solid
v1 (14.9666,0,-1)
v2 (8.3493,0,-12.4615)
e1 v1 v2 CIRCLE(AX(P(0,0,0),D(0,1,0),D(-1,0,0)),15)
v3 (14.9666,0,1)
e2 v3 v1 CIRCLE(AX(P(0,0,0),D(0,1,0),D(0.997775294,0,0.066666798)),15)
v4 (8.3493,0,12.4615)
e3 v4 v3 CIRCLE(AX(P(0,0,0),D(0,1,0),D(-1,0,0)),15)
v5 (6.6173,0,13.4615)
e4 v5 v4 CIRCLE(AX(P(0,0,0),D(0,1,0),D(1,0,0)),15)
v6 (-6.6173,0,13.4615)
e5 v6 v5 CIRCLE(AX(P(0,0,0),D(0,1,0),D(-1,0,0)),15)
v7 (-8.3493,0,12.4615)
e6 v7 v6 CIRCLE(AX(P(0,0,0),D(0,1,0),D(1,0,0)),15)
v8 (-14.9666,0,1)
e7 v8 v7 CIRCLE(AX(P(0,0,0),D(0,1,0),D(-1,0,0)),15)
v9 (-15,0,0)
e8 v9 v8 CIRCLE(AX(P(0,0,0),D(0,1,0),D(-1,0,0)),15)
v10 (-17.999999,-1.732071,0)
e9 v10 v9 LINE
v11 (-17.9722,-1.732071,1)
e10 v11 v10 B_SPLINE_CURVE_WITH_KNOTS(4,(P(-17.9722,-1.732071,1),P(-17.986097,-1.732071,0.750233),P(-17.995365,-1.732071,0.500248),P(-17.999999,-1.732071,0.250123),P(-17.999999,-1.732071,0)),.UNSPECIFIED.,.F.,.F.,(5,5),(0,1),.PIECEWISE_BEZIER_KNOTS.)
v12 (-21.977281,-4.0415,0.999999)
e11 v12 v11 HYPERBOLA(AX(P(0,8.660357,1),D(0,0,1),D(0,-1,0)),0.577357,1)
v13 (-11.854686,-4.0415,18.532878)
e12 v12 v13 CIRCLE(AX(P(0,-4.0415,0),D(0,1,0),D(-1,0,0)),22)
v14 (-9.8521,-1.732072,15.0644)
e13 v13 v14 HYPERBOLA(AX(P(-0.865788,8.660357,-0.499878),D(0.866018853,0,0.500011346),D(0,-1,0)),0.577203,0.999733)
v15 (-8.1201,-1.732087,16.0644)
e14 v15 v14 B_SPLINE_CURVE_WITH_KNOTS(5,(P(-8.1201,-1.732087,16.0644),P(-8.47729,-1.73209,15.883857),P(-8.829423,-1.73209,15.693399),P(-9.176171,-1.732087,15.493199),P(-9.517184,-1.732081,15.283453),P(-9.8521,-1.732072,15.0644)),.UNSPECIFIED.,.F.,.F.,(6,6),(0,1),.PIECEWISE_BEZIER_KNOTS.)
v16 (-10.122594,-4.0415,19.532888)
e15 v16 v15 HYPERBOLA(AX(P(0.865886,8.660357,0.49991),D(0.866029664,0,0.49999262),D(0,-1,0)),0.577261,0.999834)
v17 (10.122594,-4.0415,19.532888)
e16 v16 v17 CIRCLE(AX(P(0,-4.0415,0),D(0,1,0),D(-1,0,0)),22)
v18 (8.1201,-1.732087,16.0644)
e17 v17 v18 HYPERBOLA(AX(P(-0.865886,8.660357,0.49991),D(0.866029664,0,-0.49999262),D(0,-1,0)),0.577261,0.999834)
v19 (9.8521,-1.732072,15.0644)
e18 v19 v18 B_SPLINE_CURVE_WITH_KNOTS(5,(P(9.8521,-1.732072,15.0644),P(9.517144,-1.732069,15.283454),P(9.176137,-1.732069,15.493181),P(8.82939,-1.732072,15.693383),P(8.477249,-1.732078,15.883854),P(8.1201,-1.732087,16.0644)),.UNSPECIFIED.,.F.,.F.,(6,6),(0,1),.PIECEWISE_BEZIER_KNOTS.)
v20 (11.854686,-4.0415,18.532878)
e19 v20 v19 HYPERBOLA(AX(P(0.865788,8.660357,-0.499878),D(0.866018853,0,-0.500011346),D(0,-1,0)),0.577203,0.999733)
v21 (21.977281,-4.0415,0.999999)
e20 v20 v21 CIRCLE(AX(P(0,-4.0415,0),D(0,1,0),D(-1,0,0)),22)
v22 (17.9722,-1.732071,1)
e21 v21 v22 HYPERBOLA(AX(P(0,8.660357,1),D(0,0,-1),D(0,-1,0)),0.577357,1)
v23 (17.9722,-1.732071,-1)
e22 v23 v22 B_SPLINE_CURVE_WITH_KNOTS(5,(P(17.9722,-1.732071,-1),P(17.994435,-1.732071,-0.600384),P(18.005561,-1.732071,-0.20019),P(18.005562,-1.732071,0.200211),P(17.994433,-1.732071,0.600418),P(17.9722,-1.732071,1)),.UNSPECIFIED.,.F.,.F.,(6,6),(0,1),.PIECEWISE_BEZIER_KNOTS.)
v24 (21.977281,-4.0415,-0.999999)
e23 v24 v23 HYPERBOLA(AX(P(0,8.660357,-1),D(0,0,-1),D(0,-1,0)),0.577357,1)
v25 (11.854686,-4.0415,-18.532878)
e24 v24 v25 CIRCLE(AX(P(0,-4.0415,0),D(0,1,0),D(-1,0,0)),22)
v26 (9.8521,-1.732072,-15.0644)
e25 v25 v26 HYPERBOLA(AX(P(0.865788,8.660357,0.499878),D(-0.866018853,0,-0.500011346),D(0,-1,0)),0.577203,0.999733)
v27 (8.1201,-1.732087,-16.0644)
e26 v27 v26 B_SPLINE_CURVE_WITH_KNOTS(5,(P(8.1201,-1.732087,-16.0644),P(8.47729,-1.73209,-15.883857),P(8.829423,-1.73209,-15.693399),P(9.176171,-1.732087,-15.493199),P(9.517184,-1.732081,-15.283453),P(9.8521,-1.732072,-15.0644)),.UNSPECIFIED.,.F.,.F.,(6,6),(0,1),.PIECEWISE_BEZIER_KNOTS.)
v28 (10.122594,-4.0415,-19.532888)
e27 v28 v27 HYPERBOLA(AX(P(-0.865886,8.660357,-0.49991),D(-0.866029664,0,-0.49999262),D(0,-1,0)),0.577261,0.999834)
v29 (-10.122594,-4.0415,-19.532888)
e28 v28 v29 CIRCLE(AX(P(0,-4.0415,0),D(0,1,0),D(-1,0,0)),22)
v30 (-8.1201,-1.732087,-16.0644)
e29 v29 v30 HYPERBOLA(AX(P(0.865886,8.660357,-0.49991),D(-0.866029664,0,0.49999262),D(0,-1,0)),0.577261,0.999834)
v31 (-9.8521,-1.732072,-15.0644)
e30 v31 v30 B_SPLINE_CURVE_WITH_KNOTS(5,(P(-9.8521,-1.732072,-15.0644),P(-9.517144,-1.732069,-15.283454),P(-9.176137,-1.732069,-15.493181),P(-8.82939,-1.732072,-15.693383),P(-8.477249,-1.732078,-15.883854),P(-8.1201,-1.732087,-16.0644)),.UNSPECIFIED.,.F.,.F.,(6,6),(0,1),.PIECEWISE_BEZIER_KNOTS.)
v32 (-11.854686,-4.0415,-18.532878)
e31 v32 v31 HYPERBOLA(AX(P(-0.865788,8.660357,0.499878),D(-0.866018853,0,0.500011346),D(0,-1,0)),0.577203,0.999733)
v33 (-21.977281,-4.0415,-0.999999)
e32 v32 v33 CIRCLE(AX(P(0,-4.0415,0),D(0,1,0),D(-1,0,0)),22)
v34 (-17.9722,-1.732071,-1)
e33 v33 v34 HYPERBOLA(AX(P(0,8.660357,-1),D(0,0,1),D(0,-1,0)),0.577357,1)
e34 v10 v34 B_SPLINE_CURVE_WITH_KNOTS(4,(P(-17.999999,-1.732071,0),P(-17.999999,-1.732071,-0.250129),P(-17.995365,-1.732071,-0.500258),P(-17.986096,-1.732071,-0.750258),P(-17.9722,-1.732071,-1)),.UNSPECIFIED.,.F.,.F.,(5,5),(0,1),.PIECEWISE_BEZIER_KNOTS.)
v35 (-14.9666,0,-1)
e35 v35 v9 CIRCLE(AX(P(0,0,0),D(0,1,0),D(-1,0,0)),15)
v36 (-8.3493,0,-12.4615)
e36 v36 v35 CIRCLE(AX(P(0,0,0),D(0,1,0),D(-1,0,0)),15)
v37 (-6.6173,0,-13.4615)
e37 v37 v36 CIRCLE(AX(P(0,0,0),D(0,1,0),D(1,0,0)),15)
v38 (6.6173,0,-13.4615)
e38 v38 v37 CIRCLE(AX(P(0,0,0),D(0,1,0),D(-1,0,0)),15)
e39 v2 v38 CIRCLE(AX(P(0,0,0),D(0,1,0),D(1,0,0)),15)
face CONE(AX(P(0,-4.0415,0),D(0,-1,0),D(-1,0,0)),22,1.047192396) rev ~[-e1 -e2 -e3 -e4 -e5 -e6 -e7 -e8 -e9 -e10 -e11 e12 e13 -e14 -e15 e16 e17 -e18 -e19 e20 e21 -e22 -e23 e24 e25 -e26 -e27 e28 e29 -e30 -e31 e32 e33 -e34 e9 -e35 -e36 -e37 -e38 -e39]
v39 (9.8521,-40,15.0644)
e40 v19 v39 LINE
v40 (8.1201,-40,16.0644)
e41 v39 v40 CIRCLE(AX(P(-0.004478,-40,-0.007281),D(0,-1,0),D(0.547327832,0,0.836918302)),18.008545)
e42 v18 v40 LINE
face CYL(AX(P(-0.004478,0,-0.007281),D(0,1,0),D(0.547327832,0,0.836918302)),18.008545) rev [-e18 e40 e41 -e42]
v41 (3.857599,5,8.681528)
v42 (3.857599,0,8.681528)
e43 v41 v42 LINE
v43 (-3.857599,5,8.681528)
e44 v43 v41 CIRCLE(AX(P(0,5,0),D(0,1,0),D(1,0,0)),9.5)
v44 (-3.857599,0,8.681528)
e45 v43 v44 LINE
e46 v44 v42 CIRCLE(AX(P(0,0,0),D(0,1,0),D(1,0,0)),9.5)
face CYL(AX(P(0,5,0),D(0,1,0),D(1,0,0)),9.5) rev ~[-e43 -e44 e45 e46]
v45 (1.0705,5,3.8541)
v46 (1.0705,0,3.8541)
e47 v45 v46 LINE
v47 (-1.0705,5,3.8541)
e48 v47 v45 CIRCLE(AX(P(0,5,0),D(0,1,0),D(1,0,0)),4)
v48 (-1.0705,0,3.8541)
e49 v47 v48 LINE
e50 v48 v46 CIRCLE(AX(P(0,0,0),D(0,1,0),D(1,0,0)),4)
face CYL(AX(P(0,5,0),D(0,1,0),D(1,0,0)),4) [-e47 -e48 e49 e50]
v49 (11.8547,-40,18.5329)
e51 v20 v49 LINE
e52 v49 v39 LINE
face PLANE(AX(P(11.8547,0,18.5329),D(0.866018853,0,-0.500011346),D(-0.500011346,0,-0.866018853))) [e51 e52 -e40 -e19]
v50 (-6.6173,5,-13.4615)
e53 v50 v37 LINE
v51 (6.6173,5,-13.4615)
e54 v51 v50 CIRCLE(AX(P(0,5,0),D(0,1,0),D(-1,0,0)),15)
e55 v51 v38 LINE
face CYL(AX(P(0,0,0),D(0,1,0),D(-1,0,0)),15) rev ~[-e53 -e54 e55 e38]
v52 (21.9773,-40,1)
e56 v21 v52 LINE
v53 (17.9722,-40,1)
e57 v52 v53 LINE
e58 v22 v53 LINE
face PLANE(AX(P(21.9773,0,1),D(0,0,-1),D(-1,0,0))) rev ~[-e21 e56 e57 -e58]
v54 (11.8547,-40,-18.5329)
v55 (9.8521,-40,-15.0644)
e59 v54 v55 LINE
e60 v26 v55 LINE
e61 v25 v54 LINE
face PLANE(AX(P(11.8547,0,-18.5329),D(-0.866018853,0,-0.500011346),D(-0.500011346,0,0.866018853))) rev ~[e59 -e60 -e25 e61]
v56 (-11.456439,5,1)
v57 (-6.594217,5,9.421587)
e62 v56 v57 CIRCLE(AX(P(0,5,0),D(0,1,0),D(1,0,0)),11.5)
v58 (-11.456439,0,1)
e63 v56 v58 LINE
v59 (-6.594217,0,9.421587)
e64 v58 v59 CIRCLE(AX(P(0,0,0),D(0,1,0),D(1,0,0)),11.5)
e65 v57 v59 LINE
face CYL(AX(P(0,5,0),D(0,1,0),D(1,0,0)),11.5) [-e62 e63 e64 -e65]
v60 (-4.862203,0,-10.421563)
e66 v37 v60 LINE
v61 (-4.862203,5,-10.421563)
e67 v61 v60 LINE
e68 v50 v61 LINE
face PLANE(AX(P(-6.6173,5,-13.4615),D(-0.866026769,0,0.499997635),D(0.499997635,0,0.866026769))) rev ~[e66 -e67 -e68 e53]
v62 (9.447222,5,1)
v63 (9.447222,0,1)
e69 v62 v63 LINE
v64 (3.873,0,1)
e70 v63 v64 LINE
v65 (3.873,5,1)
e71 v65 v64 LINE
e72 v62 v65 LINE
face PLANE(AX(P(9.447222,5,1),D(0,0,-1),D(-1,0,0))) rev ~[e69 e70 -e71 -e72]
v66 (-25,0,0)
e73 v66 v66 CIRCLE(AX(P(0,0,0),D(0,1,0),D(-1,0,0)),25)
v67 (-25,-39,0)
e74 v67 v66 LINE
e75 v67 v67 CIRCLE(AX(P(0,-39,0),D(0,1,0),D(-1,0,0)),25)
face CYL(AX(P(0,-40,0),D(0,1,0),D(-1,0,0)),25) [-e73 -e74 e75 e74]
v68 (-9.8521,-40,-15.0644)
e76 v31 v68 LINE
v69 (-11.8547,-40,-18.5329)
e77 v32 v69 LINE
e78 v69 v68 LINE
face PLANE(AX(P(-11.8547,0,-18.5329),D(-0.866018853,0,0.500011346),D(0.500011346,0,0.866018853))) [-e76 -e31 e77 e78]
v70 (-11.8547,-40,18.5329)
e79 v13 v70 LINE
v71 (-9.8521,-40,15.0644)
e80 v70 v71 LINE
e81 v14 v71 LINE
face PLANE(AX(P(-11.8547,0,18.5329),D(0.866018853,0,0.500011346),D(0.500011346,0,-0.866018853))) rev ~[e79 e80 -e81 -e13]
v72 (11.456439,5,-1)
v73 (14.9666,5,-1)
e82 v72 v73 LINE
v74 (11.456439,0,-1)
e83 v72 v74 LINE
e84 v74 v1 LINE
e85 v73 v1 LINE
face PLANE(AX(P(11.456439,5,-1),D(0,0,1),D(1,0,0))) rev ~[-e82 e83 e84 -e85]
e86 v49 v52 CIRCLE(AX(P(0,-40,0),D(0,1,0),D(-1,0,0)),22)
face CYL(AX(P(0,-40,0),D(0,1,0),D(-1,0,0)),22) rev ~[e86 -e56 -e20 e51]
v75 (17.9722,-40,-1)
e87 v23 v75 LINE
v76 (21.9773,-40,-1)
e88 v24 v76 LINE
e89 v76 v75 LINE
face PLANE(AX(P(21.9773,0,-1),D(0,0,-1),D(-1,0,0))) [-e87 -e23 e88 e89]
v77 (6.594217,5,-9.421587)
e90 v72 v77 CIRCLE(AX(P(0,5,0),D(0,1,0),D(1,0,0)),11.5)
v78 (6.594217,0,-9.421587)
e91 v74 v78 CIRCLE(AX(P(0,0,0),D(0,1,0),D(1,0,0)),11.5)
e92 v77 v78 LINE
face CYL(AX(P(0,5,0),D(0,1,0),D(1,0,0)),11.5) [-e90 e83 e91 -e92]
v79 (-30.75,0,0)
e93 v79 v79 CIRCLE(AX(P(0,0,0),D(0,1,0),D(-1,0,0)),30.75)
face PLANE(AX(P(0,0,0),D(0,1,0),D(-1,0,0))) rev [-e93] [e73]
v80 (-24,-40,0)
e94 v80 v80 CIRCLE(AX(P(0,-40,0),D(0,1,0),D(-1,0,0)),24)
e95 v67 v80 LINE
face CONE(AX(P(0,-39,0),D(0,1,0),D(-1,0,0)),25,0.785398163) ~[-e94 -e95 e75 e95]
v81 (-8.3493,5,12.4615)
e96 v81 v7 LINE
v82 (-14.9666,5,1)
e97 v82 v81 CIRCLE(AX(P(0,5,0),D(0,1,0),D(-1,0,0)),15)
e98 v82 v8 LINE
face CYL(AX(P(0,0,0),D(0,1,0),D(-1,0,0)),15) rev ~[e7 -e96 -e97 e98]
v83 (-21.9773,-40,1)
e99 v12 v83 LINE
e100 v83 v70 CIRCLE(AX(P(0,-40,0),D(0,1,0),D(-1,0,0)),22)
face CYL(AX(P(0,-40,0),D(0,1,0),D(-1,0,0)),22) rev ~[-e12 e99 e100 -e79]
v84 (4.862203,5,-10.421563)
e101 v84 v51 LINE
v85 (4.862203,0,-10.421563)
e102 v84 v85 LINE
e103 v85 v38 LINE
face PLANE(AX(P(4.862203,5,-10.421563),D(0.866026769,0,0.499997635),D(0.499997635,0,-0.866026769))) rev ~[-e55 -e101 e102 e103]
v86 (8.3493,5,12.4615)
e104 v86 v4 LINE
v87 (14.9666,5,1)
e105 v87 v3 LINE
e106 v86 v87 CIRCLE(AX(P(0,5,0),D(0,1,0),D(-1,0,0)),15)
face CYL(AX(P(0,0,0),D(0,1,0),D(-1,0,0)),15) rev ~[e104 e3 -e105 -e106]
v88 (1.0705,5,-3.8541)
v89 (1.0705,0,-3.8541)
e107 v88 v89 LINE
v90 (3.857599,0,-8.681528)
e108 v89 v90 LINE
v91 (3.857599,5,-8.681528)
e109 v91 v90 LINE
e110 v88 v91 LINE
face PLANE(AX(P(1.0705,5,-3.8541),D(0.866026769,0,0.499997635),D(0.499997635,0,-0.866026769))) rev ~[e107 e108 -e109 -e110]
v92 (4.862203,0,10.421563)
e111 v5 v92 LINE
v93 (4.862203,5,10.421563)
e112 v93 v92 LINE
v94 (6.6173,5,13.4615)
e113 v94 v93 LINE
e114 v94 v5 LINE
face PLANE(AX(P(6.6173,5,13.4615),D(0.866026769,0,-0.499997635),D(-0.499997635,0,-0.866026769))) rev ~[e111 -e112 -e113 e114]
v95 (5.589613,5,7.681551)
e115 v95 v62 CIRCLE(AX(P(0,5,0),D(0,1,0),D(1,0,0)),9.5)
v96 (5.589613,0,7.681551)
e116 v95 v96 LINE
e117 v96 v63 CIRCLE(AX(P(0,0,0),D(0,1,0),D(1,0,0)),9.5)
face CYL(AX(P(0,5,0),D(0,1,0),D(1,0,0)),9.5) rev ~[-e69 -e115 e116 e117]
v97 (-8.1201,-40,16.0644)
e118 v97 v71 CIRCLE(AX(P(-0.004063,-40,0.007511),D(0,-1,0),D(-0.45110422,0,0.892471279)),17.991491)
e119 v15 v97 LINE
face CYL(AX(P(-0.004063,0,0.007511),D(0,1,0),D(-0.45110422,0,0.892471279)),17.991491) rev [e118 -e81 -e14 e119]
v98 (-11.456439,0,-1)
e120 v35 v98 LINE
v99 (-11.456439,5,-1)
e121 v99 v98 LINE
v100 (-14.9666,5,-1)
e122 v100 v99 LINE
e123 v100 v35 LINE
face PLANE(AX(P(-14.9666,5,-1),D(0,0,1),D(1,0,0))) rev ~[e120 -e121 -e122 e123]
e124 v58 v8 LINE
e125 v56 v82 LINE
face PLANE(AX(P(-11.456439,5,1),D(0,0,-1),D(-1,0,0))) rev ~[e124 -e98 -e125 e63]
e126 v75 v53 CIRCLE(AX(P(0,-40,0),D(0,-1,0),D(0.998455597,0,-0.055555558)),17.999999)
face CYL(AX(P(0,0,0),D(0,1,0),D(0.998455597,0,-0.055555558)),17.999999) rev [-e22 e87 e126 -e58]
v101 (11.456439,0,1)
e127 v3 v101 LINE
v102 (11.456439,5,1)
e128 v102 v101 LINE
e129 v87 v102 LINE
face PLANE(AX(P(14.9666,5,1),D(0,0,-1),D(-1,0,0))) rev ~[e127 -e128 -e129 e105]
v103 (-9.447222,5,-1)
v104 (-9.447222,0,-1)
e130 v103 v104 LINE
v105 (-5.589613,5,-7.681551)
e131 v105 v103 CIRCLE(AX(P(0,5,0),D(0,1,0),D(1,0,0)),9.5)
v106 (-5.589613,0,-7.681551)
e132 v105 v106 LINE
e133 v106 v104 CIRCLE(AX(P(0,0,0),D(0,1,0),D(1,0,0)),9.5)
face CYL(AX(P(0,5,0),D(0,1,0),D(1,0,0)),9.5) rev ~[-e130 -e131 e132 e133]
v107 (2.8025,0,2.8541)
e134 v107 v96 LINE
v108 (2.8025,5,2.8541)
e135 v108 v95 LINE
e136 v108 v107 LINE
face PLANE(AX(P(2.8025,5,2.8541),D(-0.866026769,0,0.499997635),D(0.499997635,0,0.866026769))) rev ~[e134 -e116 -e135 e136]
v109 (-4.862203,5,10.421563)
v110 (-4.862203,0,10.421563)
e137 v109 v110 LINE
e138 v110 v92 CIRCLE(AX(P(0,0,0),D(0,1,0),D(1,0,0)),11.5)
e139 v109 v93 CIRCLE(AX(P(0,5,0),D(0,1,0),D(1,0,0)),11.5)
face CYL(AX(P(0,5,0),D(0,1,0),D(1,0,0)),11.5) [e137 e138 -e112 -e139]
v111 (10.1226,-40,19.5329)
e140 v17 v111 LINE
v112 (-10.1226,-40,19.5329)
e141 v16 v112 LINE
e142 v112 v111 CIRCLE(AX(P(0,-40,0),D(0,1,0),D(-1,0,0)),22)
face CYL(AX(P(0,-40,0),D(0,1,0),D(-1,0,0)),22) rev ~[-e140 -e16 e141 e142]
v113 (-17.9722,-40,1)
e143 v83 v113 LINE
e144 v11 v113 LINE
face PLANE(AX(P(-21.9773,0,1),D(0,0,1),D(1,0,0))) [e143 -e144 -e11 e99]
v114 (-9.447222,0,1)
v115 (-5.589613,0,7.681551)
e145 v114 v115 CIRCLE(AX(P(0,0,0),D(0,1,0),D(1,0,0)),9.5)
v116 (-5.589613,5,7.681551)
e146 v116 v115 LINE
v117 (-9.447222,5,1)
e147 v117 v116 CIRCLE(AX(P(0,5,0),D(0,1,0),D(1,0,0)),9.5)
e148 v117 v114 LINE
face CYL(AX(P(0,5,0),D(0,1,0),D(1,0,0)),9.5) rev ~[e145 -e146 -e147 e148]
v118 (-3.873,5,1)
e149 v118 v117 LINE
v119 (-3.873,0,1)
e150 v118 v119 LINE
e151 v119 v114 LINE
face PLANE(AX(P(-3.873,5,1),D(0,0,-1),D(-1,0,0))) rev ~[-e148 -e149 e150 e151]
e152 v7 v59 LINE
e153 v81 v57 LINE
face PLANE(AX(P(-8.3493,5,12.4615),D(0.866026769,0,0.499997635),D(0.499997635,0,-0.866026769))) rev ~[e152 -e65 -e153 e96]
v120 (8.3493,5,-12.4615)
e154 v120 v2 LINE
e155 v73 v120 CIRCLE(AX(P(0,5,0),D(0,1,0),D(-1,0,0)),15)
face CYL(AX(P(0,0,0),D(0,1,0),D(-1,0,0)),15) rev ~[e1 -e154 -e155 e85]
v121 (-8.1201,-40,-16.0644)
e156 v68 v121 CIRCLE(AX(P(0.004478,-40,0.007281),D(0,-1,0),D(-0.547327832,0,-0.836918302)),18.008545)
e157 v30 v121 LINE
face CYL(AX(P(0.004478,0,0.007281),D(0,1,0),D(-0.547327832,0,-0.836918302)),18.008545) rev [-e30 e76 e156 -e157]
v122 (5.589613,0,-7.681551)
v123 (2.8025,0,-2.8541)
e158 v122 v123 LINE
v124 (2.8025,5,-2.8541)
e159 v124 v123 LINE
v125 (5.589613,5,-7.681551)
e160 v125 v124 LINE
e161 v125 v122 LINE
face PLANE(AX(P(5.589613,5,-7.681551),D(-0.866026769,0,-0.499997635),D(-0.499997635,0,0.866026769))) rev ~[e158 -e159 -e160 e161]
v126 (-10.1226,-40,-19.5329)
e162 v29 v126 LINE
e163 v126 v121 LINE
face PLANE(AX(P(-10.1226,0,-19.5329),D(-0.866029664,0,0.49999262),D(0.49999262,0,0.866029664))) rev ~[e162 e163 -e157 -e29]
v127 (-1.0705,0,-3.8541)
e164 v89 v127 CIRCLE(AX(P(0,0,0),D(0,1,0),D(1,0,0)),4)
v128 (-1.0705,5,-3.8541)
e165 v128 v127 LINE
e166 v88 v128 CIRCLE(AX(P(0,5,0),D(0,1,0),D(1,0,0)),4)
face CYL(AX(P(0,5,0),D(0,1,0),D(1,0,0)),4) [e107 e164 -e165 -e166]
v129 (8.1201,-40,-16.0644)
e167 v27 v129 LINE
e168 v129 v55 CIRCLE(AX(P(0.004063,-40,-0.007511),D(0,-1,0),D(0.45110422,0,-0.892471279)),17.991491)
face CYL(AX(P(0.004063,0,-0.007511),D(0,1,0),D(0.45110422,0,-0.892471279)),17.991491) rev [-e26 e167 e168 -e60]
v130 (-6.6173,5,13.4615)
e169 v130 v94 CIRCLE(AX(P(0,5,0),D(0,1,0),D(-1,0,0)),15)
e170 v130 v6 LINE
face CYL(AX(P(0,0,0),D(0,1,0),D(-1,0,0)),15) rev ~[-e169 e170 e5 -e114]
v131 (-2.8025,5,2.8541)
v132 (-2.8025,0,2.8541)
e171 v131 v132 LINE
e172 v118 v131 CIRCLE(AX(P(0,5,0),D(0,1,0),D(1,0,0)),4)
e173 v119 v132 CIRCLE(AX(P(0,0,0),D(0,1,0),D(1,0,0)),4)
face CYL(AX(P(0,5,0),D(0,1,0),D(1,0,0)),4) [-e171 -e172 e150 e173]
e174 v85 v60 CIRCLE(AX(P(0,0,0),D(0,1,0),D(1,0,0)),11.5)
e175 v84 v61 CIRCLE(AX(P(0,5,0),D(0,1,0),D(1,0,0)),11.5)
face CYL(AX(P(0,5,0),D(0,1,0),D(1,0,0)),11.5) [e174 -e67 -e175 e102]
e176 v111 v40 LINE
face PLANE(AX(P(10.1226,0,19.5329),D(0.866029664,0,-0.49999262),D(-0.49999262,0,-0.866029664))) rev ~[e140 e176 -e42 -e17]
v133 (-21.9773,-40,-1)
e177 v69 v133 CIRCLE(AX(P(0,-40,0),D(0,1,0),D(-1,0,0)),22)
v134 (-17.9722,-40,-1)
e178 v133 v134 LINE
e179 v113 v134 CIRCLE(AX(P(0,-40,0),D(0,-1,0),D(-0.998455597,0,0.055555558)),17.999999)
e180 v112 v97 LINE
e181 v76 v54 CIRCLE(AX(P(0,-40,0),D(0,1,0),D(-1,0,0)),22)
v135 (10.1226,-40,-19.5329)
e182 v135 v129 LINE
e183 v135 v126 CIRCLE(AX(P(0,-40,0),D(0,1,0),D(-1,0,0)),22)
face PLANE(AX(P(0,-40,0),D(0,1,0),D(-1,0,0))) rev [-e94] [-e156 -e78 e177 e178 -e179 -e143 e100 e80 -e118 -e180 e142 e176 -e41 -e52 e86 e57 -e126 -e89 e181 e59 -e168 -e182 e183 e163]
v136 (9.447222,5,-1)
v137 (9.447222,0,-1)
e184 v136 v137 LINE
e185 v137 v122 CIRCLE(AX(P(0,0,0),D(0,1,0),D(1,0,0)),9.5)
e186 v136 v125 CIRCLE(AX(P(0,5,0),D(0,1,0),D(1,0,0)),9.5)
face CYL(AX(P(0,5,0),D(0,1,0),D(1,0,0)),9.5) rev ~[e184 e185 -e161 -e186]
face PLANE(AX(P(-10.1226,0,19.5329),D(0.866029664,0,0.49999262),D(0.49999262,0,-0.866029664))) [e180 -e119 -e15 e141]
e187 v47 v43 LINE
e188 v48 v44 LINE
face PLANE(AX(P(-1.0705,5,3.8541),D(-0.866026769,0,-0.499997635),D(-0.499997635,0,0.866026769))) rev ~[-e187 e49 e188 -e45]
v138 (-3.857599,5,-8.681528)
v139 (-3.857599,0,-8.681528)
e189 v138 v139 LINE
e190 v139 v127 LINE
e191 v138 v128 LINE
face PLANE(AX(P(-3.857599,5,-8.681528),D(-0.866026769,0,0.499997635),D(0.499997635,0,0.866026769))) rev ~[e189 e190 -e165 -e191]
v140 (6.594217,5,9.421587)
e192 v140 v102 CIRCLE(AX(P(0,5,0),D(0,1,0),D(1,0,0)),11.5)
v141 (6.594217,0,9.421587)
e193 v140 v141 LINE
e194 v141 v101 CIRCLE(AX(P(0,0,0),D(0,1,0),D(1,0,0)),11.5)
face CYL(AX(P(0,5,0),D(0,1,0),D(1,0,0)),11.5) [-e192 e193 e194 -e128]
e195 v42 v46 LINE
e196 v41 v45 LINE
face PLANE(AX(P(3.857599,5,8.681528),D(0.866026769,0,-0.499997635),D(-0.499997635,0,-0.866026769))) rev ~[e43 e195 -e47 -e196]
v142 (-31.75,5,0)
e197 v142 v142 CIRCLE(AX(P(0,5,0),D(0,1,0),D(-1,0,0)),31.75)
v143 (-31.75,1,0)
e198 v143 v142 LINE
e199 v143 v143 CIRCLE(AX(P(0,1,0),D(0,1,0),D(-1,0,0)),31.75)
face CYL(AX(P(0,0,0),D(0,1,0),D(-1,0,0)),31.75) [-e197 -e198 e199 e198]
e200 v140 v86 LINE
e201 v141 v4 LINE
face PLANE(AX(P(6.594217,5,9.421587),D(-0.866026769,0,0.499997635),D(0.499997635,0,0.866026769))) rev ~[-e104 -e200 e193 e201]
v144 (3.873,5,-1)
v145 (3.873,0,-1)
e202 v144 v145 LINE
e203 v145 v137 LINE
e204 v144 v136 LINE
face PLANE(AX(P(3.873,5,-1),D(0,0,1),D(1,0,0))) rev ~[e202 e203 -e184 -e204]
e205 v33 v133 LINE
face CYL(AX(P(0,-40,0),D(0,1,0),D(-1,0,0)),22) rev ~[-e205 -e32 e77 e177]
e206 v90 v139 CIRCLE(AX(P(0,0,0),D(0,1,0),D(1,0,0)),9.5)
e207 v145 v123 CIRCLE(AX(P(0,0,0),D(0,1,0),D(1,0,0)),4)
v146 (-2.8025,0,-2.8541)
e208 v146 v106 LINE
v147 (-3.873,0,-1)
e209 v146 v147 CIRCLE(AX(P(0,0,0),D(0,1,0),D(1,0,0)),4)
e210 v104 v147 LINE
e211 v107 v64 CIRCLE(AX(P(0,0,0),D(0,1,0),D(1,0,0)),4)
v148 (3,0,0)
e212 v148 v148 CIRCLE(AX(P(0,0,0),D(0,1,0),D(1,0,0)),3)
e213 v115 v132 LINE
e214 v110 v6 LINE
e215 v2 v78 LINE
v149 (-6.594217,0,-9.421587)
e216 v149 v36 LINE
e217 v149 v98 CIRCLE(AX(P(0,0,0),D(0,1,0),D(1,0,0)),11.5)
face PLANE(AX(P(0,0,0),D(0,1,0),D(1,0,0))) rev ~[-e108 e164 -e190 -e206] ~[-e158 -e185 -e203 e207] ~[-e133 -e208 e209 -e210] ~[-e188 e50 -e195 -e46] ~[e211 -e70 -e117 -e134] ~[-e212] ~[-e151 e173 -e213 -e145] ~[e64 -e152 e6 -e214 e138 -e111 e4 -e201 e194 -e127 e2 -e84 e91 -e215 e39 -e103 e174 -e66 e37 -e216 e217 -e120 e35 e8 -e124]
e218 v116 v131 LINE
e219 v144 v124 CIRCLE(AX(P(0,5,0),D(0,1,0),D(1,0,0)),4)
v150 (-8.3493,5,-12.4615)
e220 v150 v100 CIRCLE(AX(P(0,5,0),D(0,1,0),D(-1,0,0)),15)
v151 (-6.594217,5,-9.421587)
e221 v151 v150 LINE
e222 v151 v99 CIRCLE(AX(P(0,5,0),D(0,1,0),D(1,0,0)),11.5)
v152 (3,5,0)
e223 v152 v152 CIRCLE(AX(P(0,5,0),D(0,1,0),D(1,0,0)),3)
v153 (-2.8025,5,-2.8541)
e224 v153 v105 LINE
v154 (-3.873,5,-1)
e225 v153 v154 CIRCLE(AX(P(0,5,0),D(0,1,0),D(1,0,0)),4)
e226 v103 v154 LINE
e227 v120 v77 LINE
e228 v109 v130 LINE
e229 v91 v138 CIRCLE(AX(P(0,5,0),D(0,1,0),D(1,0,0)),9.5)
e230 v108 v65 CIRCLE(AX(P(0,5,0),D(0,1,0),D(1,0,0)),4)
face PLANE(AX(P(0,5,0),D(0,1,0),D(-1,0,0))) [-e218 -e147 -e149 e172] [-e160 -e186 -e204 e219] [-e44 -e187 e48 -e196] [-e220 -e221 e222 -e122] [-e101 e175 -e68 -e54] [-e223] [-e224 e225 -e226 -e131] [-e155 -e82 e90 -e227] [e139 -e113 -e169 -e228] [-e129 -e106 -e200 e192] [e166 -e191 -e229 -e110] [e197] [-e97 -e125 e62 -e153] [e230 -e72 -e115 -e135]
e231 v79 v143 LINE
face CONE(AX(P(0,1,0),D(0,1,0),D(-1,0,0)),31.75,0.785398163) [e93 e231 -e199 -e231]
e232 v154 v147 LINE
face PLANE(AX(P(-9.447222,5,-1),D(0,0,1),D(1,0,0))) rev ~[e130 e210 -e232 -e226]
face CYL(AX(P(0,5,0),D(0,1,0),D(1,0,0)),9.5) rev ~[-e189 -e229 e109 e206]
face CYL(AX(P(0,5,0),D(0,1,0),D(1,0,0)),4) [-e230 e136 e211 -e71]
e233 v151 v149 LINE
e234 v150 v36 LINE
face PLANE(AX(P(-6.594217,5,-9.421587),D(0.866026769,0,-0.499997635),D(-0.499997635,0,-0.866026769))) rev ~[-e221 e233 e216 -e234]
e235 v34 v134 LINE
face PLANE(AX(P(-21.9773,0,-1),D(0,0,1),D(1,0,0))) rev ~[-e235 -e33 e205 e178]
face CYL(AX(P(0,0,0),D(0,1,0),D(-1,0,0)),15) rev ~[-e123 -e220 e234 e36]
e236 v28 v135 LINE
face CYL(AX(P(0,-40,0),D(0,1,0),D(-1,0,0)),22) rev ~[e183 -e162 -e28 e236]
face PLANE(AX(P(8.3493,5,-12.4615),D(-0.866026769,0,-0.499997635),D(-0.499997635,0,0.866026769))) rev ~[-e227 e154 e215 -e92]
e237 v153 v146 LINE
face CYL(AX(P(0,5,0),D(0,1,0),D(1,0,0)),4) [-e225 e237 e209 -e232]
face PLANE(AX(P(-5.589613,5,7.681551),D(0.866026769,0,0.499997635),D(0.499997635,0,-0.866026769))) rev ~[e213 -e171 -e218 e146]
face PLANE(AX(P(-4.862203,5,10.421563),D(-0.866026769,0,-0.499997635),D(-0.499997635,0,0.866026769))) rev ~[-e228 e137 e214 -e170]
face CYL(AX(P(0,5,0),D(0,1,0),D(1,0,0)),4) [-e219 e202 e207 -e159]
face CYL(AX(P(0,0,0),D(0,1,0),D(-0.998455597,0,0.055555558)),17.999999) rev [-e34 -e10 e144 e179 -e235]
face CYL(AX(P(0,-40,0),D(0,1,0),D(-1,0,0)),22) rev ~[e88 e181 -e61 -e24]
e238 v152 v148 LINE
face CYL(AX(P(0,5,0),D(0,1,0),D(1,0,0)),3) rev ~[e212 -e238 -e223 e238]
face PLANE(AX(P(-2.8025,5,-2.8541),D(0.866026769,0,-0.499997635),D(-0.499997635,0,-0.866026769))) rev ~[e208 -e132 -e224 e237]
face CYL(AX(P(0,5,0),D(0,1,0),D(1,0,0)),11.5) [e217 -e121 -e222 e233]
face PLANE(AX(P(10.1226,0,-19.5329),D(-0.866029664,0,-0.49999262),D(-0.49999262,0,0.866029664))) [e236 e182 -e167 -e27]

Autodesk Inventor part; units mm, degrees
ref_plane "YZ Plane" through (0, 0, 0) normal (1, 0, 0) x (0, 1, 0)
ref_plane "XZ Plane" through (0, 0, 0) normal (0, 1, 0) x (-1, 0, 0)
ref_plane "XY Plane" through (0, 0, 0) normal (0, 0, 1) x (1, 0, 0)
sketch "Skizze1" plane through (0, 0, 0) normal (0, 0, 1) x (1, 0, 0)
  line L0 (-25, -40) -> (-25, 0)
  line L1 (-25, 0) -> (-31.75, 0)
  line L2 (-31.75, 0) -> (-31.75, 5)
  line L3 (-31.75, 5) -> (-15, 5)
  line L4 (-22, -40) -> (-22, -4.0415)
  line L5 (-22, -4.0415) -> (-15, 0)
  line L6 (-15, 0) -> (-15, 5)
  line L7 (-38.1, 0) -> (6.35, 0) construction
  line L8 (-22, -40) -> (-25, -40)
  line L9 (0, -49) -> (0, 14) projected
  point P0 (0, 0)
  dimension "d2" = 60
  dimension "d3" = 3
  dimension "d4" = 5
  dimension "d5" = 7
  dimension "d6" = 50
  dimension "d7" = 40
  dimension "d8" = 63.5
  dimension "d38" = 5
  dimension "d47" = 30
revolve "Umdrehung1" add sketch "Skizze1" angle 360 about axis through (0, -10, 0) along (0, 1, 0)
sketch "Skizze2" plane through (0, 5, 0) normal (0, 1, 0) x (1, 0, 0)
  circle A0 centre (0, 0) radius 15 projected
  circle A1 centre (0, 0) radius 31.75 projected
  line L0 (-44.45, 0) -> (44.45, 0) construction
  line L1 (0, 44.45) -> (0, -44.45) construction
  circle A2 centre (0, 0) radius 9.5
  circle A3 centre (0, 0) radius 11.5
  circle A4 centre (0, 0) radius 4
  circle A5 centre (0, 0) radius 3
  line L2 (-14.9666, 1) -> (-3.873, 1)
  line L3 (-3.873, -1) -> (-14.9666, -1)
  arc A6 (-3.873, 1) -> (-3.873, -1) centre (0, 0) ccw
  arc A7 (-14.9666, 1) -> (-14.9666, -1) centre (0, 0) ccw
  line L4 (-8.3493, -12.4615) -> (-2.8025, -2.8541)
  line L5 (-1.0705, -3.8541) -> (-6.6173, -13.4615)
  arc A8 (-8.3493, -12.4615) -> (-6.6173, -13.4615) centre (0, 0) ccw
  arc A9 (-2.8025, -2.8541) -> (-1.0705, -3.8541) centre (0, 0) ccw
  line L6 (6.6173, -13.4615) -> (1.0705, -3.8541)
  line L7 (2.8025, -2.8541) -> (8.3493, -12.4615)
  arc A10 (6.6173, -13.4615) -> (8.3493, -12.4615) centre (0, 0) ccw
  arc A11 (1.0705, -3.8541) -> (2.8025, -2.8541) centre (0, 0) ccw
  line L8 (14.9666, -1) -> (3.873, -1)
  line L9 (3.873, 1) -> (14.9666, 1)
  arc A12 (14.9666, -1) -> (14.9666, 1) centre (0, 0) ccw
  arc A13 (3.873, -1) -> (3.873, 1) centre (0, 0) ccw
  line L10 (8.3493, 12.4615) -> (2.8025, 2.8541)
  line L11 (1.0705, 3.8541) -> (6.6173, 13.4615)
  arc A14 (8.3493, 12.4615) -> (6.6173, 13.4615) centre (0, 0) ccw
  arc A15 (2.8025, 2.8541) -> (1.0705, 3.8541) centre (0, 0) ccw
  line L12 (-6.6173, 13.4615) -> (-1.0705, 3.8541)
  line L13 (-2.8025, 2.8541) -> (-8.3493, 12.4615)
  arc A16 (-6.6173, 13.4615) -> (-8.3493, 12.4615) centre (0, 0) ccw
  arc A17 (-1.0705, 3.8541) -> (-2.8025, 2.8541) centre (0, 0) ccw
  dimension "d25" = 19
  dimension "d26" = 23
  dimension "d28" = 8
  dimension "d29" = 6
  dimension "d30" = 2
  dimension "d41" = 360
extrude "Extrusion1" add sketch "Skizze2" against normal blind 5 contours A0 L8 A3 L9 | L10 A3 L11 A0 | L9 A2 L10 A3 | A3 L8 A2 L9 | A0 L6 A3 L7 | A3 L7 A2 L8 | L10 A2 L11 A3 | A2 L8 A4 L9 | A3 L6 A2 L7 | L12 A3 L13 A0 | L11 A2 L12 A3 | L10 A4 L11 A2 | A4 | A0 L4 A3 L5 | A3 L5 A2 L6 | A2 L6 A4 L7 | L12 A2 L13 A3 | A3 L4 A2 L5 | L2 A3 L3 A0 | L13 A2 L2 A3 | L12 A4 L13 A2 | A3 L3 A2 L4 | A2 L4 A4 L5 | L2 A2 L3 A3 | L2 A4 L3 A2
chamfer "Fase1" distance 1 angle 45 2 edges at (31.75, 0, 0) (25, -40, 0)
sketch "Skizze3" plane through (0, 0, 0) normal (0, -1, 0) x (1, 0, 0)
  circle A0 centre (0, 0) radius 22 projected
  arc A1 (-6.6173, -13.4615) -> (6.6173, -13.4615) centre (0, 0) ccw projected
  line L0 (6.6173, -13.4615) -> (4.8622, -10.4216) projected
  arc A2 (-4.8622, -10.4216) -> (4.8622, -10.4216) centre (0, 0) ccw projected
  line L1 (-4.8622, -10.4216) -> (-6.6173, -13.4615) projected
  line L2 (-8.3493, -12.4615) -> (-6.5942, -9.4216) projected
  arc A3 (-11.4564, -1) -> (-6.5942, -9.4216) centre (0, 0) ccw projected
  line L3 (-11.4564, -1) -> (-14.9666, -1) projected
  arc A4 (-14.9666, -1) -> (-8.3493, -12.4615) centre (0, 0) ccw projected
  line L4 (-14.9666, 1) -> (-11.4564, 1) projected
  arc A5 (-6.5942, 9.4216) -> (-11.4564, 1) centre (0, 0) ccw projected
  line L5 (-6.5942, 9.4216) -> (-8.3493, 12.4615) projected
  arc A6 (-8.3493, 12.4615) -> (-14.9666, 1) centre (0, 0) ccw projected
  line L6 (-6.6173, 13.4615) -> (-4.8622, 10.4216) projected
  arc A7 (4.8622, 10.4216) -> (-4.8622, 10.4216) centre (0, 0) ccw projected
  line L7 (4.8622, 10.4216) -> (6.6173, 13.4615) projected
  arc A8 (6.6173, 13.4615) -> (-6.6173, 13.4615) centre (0, 0) ccw projected
  line L8 (8.3493, 12.4615) -> (6.5942, 9.4216) projected
  arc A9 (11.4564, 1) -> (6.5942, 9.4216) centre (0, 0) ccw projected
  line L9 (11.4564, 1) -> (14.9666, 1) projected
  arc A10 (14.9666, 1) -> (8.3493, 12.4615) centre (0, 0) ccw projected
  arc A11 (3.8576, 8.6815) -> (-3.8576, 8.6815) centre (0, 0) ccw projected
  line L10 (-3.8576, 8.6815) -> (-1.0705, 3.8541) projected
  arc A12 (1.0705, 3.8541) -> (-1.0705, 3.8541) centre (0, 0) ccw projected
  line L11 (1.0705, 3.8541) -> (3.8576, 8.6815) projected
  line L12 (9.4472, -1) -> (3.873, -1) projected
  arc A13 (2.8025, -2.8541) -> (3.873, -1) centre (0, 0) ccw projected
  line L13 (2.8025, -2.8541) -> (5.5896, -7.6815) projected
  arc A14 (5.5896, -7.6815) -> (9.4472, -1) centre (0, 0) ccw projected
  circle A15 centre (0, 0) radius 3 projected
  line L14 (3.8576, -8.6815) -> (1.0705, -3.8541) projected
  arc A16 (-1.0705, -3.8541) -> (1.0705, -3.8541) centre (0, 0) ccw projected
  line L15 (-1.0705, -3.8541) -> (-3.8576, -8.6815) projected
  arc A17 (-3.8576, -8.6815) -> (3.8576, -8.6815) centre (0, 0) ccw projected
  line L16 (5.5896, 7.6815) -> (2.8025, 2.8541) projected
  arc A18 (3.873, 1) -> (2.8025, 2.8541) centre (0, 0) ccw projected
  line L17 (3.873, 1) -> (9.4472, 1) projected
  arc A19 (9.4472, 1) -> (5.5896, 7.6815) centre (0, 0) ccw projected
  arc A20 (-5.5896, 7.6815) -> (-9.4472, 1) centre (0, 0) ccw projected
  line L18 (-9.4472, 1) -> (-3.873, 1) projected
  arc A21 (-2.8025, 2.8541) -> (-3.873, 1) centre (0, 0) ccw projected
  line L19 (-2.8025, 2.8541) -> (-5.5896, 7.6815) projected
  arc A22 (-9.4472, -1) -> (-5.5896, -7.6815) centre (0, 0) ccw projected
  line L20 (-5.5896, -7.6815) -> (-2.8025, -2.8541) projected
  arc A23 (-3.873, -1) -> (-2.8025, -2.8541) centre (0, 0) ccw projected
  line L21 (-3.873, -1) -> (-9.4472, -1) projected
  line L22 (14.9666, -1) -> (11.4564, -1) projected
  arc A24 (6.5942, -9.4216) -> (11.4564, -1) centre (0, 0) ccw projected
  line L23 (6.5942, -9.4216) -> (8.3493, -12.4615) projected
  arc A25 (8.3493, -12.4615) -> (14.9666, -1) centre (0, 0) ccw projected
  circle A26 centre (0, 0) radius 31.75 projected
  line L24 (21.9773, -1) -> (17.9722, -1)
  line L25 (21.9773, 1) -> (17.9722, 1)
  arc A27 (17.9722, -1) -> (17.9722, 1) centre (0, 0) ccw
  arc A28 (21.9773, -1) -> (21.9773, 1) centre (0, 0) ccw
  arc A29 (9.8521, 15.0644) -> (8.1201, 16.0644) centre (0, 0) ccw
  line L26 (11.8547, 18.5329) -> (9.8521, 15.0644)
  arc A30 (11.8547, 18.5329) -> (10.1226, 19.5329) centre (0, 0) ccw
  line L27 (10.1226, 19.5329) -> (8.1201, 16.0644)
  arc A31 (-8.1201, 16.0644) -> (-9.8521, 15.0644) centre (0, 0) ccw
  line L28 (-10.1226, 19.5329) -> (-8.1201, 16.0644)
  arc A32 (-10.1226, 19.5329) -> (-11.8547, 18.5329) centre (0, 0) ccw
  line L29 (-11.8547, 18.5329) -> (-9.8521, 15.0644)
  arc A33 (-17.9722, 1) -> (-17.9722, -1) centre (0, 0) ccw
  line L30 (-21.9773, 1) -> (-17.9722, 1)
  arc A34 (-21.9773, 1) -> (-21.9773, -1) centre (0, 0) ccw
  line L31 (-21.9773, -1) -> (-17.9722, -1)
  arc A35 (-9.8521, -15.0644) -> (-8.1201, -16.0644) centre (0, 0) ccw
  line L32 (-11.8547, -18.5329) -> (-9.8521, -15.0644)
  arc A36 (-11.8547, -18.5329) -> (-10.1226, -19.5329) centre (0, 0) ccw
  line L33 (-10.1226, -19.5329) -> (-8.1201, -16.0644)
  arc A37 (8.1201, -16.0644) -> (9.8521, -15.0644) centre (0, 0) ccw
  line L34 (10.1226, -19.5329) -> (8.1201, -16.0644)
  arc A38 (10.1226, -19.5329) -> (11.8547, -18.5329) centre (0, 0) ccw
  line L35 (11.8547, -18.5329) -> (9.8521, -15.0644)
  dimension "d51" = 18
  dimension "d56" = 360
extrude "Extrusion5" add sketch "Skizze3" along normal up to surface (40 mm away) contours A0 L24 A27 L25 | L26 A29 L27 A0 | A0 L34 A37 L35 | L28 A31 L29 A0 | A0 L32 A35 L33 | L30 A33 L31 A0
properties part number "Unterdruckventil_Basis"
